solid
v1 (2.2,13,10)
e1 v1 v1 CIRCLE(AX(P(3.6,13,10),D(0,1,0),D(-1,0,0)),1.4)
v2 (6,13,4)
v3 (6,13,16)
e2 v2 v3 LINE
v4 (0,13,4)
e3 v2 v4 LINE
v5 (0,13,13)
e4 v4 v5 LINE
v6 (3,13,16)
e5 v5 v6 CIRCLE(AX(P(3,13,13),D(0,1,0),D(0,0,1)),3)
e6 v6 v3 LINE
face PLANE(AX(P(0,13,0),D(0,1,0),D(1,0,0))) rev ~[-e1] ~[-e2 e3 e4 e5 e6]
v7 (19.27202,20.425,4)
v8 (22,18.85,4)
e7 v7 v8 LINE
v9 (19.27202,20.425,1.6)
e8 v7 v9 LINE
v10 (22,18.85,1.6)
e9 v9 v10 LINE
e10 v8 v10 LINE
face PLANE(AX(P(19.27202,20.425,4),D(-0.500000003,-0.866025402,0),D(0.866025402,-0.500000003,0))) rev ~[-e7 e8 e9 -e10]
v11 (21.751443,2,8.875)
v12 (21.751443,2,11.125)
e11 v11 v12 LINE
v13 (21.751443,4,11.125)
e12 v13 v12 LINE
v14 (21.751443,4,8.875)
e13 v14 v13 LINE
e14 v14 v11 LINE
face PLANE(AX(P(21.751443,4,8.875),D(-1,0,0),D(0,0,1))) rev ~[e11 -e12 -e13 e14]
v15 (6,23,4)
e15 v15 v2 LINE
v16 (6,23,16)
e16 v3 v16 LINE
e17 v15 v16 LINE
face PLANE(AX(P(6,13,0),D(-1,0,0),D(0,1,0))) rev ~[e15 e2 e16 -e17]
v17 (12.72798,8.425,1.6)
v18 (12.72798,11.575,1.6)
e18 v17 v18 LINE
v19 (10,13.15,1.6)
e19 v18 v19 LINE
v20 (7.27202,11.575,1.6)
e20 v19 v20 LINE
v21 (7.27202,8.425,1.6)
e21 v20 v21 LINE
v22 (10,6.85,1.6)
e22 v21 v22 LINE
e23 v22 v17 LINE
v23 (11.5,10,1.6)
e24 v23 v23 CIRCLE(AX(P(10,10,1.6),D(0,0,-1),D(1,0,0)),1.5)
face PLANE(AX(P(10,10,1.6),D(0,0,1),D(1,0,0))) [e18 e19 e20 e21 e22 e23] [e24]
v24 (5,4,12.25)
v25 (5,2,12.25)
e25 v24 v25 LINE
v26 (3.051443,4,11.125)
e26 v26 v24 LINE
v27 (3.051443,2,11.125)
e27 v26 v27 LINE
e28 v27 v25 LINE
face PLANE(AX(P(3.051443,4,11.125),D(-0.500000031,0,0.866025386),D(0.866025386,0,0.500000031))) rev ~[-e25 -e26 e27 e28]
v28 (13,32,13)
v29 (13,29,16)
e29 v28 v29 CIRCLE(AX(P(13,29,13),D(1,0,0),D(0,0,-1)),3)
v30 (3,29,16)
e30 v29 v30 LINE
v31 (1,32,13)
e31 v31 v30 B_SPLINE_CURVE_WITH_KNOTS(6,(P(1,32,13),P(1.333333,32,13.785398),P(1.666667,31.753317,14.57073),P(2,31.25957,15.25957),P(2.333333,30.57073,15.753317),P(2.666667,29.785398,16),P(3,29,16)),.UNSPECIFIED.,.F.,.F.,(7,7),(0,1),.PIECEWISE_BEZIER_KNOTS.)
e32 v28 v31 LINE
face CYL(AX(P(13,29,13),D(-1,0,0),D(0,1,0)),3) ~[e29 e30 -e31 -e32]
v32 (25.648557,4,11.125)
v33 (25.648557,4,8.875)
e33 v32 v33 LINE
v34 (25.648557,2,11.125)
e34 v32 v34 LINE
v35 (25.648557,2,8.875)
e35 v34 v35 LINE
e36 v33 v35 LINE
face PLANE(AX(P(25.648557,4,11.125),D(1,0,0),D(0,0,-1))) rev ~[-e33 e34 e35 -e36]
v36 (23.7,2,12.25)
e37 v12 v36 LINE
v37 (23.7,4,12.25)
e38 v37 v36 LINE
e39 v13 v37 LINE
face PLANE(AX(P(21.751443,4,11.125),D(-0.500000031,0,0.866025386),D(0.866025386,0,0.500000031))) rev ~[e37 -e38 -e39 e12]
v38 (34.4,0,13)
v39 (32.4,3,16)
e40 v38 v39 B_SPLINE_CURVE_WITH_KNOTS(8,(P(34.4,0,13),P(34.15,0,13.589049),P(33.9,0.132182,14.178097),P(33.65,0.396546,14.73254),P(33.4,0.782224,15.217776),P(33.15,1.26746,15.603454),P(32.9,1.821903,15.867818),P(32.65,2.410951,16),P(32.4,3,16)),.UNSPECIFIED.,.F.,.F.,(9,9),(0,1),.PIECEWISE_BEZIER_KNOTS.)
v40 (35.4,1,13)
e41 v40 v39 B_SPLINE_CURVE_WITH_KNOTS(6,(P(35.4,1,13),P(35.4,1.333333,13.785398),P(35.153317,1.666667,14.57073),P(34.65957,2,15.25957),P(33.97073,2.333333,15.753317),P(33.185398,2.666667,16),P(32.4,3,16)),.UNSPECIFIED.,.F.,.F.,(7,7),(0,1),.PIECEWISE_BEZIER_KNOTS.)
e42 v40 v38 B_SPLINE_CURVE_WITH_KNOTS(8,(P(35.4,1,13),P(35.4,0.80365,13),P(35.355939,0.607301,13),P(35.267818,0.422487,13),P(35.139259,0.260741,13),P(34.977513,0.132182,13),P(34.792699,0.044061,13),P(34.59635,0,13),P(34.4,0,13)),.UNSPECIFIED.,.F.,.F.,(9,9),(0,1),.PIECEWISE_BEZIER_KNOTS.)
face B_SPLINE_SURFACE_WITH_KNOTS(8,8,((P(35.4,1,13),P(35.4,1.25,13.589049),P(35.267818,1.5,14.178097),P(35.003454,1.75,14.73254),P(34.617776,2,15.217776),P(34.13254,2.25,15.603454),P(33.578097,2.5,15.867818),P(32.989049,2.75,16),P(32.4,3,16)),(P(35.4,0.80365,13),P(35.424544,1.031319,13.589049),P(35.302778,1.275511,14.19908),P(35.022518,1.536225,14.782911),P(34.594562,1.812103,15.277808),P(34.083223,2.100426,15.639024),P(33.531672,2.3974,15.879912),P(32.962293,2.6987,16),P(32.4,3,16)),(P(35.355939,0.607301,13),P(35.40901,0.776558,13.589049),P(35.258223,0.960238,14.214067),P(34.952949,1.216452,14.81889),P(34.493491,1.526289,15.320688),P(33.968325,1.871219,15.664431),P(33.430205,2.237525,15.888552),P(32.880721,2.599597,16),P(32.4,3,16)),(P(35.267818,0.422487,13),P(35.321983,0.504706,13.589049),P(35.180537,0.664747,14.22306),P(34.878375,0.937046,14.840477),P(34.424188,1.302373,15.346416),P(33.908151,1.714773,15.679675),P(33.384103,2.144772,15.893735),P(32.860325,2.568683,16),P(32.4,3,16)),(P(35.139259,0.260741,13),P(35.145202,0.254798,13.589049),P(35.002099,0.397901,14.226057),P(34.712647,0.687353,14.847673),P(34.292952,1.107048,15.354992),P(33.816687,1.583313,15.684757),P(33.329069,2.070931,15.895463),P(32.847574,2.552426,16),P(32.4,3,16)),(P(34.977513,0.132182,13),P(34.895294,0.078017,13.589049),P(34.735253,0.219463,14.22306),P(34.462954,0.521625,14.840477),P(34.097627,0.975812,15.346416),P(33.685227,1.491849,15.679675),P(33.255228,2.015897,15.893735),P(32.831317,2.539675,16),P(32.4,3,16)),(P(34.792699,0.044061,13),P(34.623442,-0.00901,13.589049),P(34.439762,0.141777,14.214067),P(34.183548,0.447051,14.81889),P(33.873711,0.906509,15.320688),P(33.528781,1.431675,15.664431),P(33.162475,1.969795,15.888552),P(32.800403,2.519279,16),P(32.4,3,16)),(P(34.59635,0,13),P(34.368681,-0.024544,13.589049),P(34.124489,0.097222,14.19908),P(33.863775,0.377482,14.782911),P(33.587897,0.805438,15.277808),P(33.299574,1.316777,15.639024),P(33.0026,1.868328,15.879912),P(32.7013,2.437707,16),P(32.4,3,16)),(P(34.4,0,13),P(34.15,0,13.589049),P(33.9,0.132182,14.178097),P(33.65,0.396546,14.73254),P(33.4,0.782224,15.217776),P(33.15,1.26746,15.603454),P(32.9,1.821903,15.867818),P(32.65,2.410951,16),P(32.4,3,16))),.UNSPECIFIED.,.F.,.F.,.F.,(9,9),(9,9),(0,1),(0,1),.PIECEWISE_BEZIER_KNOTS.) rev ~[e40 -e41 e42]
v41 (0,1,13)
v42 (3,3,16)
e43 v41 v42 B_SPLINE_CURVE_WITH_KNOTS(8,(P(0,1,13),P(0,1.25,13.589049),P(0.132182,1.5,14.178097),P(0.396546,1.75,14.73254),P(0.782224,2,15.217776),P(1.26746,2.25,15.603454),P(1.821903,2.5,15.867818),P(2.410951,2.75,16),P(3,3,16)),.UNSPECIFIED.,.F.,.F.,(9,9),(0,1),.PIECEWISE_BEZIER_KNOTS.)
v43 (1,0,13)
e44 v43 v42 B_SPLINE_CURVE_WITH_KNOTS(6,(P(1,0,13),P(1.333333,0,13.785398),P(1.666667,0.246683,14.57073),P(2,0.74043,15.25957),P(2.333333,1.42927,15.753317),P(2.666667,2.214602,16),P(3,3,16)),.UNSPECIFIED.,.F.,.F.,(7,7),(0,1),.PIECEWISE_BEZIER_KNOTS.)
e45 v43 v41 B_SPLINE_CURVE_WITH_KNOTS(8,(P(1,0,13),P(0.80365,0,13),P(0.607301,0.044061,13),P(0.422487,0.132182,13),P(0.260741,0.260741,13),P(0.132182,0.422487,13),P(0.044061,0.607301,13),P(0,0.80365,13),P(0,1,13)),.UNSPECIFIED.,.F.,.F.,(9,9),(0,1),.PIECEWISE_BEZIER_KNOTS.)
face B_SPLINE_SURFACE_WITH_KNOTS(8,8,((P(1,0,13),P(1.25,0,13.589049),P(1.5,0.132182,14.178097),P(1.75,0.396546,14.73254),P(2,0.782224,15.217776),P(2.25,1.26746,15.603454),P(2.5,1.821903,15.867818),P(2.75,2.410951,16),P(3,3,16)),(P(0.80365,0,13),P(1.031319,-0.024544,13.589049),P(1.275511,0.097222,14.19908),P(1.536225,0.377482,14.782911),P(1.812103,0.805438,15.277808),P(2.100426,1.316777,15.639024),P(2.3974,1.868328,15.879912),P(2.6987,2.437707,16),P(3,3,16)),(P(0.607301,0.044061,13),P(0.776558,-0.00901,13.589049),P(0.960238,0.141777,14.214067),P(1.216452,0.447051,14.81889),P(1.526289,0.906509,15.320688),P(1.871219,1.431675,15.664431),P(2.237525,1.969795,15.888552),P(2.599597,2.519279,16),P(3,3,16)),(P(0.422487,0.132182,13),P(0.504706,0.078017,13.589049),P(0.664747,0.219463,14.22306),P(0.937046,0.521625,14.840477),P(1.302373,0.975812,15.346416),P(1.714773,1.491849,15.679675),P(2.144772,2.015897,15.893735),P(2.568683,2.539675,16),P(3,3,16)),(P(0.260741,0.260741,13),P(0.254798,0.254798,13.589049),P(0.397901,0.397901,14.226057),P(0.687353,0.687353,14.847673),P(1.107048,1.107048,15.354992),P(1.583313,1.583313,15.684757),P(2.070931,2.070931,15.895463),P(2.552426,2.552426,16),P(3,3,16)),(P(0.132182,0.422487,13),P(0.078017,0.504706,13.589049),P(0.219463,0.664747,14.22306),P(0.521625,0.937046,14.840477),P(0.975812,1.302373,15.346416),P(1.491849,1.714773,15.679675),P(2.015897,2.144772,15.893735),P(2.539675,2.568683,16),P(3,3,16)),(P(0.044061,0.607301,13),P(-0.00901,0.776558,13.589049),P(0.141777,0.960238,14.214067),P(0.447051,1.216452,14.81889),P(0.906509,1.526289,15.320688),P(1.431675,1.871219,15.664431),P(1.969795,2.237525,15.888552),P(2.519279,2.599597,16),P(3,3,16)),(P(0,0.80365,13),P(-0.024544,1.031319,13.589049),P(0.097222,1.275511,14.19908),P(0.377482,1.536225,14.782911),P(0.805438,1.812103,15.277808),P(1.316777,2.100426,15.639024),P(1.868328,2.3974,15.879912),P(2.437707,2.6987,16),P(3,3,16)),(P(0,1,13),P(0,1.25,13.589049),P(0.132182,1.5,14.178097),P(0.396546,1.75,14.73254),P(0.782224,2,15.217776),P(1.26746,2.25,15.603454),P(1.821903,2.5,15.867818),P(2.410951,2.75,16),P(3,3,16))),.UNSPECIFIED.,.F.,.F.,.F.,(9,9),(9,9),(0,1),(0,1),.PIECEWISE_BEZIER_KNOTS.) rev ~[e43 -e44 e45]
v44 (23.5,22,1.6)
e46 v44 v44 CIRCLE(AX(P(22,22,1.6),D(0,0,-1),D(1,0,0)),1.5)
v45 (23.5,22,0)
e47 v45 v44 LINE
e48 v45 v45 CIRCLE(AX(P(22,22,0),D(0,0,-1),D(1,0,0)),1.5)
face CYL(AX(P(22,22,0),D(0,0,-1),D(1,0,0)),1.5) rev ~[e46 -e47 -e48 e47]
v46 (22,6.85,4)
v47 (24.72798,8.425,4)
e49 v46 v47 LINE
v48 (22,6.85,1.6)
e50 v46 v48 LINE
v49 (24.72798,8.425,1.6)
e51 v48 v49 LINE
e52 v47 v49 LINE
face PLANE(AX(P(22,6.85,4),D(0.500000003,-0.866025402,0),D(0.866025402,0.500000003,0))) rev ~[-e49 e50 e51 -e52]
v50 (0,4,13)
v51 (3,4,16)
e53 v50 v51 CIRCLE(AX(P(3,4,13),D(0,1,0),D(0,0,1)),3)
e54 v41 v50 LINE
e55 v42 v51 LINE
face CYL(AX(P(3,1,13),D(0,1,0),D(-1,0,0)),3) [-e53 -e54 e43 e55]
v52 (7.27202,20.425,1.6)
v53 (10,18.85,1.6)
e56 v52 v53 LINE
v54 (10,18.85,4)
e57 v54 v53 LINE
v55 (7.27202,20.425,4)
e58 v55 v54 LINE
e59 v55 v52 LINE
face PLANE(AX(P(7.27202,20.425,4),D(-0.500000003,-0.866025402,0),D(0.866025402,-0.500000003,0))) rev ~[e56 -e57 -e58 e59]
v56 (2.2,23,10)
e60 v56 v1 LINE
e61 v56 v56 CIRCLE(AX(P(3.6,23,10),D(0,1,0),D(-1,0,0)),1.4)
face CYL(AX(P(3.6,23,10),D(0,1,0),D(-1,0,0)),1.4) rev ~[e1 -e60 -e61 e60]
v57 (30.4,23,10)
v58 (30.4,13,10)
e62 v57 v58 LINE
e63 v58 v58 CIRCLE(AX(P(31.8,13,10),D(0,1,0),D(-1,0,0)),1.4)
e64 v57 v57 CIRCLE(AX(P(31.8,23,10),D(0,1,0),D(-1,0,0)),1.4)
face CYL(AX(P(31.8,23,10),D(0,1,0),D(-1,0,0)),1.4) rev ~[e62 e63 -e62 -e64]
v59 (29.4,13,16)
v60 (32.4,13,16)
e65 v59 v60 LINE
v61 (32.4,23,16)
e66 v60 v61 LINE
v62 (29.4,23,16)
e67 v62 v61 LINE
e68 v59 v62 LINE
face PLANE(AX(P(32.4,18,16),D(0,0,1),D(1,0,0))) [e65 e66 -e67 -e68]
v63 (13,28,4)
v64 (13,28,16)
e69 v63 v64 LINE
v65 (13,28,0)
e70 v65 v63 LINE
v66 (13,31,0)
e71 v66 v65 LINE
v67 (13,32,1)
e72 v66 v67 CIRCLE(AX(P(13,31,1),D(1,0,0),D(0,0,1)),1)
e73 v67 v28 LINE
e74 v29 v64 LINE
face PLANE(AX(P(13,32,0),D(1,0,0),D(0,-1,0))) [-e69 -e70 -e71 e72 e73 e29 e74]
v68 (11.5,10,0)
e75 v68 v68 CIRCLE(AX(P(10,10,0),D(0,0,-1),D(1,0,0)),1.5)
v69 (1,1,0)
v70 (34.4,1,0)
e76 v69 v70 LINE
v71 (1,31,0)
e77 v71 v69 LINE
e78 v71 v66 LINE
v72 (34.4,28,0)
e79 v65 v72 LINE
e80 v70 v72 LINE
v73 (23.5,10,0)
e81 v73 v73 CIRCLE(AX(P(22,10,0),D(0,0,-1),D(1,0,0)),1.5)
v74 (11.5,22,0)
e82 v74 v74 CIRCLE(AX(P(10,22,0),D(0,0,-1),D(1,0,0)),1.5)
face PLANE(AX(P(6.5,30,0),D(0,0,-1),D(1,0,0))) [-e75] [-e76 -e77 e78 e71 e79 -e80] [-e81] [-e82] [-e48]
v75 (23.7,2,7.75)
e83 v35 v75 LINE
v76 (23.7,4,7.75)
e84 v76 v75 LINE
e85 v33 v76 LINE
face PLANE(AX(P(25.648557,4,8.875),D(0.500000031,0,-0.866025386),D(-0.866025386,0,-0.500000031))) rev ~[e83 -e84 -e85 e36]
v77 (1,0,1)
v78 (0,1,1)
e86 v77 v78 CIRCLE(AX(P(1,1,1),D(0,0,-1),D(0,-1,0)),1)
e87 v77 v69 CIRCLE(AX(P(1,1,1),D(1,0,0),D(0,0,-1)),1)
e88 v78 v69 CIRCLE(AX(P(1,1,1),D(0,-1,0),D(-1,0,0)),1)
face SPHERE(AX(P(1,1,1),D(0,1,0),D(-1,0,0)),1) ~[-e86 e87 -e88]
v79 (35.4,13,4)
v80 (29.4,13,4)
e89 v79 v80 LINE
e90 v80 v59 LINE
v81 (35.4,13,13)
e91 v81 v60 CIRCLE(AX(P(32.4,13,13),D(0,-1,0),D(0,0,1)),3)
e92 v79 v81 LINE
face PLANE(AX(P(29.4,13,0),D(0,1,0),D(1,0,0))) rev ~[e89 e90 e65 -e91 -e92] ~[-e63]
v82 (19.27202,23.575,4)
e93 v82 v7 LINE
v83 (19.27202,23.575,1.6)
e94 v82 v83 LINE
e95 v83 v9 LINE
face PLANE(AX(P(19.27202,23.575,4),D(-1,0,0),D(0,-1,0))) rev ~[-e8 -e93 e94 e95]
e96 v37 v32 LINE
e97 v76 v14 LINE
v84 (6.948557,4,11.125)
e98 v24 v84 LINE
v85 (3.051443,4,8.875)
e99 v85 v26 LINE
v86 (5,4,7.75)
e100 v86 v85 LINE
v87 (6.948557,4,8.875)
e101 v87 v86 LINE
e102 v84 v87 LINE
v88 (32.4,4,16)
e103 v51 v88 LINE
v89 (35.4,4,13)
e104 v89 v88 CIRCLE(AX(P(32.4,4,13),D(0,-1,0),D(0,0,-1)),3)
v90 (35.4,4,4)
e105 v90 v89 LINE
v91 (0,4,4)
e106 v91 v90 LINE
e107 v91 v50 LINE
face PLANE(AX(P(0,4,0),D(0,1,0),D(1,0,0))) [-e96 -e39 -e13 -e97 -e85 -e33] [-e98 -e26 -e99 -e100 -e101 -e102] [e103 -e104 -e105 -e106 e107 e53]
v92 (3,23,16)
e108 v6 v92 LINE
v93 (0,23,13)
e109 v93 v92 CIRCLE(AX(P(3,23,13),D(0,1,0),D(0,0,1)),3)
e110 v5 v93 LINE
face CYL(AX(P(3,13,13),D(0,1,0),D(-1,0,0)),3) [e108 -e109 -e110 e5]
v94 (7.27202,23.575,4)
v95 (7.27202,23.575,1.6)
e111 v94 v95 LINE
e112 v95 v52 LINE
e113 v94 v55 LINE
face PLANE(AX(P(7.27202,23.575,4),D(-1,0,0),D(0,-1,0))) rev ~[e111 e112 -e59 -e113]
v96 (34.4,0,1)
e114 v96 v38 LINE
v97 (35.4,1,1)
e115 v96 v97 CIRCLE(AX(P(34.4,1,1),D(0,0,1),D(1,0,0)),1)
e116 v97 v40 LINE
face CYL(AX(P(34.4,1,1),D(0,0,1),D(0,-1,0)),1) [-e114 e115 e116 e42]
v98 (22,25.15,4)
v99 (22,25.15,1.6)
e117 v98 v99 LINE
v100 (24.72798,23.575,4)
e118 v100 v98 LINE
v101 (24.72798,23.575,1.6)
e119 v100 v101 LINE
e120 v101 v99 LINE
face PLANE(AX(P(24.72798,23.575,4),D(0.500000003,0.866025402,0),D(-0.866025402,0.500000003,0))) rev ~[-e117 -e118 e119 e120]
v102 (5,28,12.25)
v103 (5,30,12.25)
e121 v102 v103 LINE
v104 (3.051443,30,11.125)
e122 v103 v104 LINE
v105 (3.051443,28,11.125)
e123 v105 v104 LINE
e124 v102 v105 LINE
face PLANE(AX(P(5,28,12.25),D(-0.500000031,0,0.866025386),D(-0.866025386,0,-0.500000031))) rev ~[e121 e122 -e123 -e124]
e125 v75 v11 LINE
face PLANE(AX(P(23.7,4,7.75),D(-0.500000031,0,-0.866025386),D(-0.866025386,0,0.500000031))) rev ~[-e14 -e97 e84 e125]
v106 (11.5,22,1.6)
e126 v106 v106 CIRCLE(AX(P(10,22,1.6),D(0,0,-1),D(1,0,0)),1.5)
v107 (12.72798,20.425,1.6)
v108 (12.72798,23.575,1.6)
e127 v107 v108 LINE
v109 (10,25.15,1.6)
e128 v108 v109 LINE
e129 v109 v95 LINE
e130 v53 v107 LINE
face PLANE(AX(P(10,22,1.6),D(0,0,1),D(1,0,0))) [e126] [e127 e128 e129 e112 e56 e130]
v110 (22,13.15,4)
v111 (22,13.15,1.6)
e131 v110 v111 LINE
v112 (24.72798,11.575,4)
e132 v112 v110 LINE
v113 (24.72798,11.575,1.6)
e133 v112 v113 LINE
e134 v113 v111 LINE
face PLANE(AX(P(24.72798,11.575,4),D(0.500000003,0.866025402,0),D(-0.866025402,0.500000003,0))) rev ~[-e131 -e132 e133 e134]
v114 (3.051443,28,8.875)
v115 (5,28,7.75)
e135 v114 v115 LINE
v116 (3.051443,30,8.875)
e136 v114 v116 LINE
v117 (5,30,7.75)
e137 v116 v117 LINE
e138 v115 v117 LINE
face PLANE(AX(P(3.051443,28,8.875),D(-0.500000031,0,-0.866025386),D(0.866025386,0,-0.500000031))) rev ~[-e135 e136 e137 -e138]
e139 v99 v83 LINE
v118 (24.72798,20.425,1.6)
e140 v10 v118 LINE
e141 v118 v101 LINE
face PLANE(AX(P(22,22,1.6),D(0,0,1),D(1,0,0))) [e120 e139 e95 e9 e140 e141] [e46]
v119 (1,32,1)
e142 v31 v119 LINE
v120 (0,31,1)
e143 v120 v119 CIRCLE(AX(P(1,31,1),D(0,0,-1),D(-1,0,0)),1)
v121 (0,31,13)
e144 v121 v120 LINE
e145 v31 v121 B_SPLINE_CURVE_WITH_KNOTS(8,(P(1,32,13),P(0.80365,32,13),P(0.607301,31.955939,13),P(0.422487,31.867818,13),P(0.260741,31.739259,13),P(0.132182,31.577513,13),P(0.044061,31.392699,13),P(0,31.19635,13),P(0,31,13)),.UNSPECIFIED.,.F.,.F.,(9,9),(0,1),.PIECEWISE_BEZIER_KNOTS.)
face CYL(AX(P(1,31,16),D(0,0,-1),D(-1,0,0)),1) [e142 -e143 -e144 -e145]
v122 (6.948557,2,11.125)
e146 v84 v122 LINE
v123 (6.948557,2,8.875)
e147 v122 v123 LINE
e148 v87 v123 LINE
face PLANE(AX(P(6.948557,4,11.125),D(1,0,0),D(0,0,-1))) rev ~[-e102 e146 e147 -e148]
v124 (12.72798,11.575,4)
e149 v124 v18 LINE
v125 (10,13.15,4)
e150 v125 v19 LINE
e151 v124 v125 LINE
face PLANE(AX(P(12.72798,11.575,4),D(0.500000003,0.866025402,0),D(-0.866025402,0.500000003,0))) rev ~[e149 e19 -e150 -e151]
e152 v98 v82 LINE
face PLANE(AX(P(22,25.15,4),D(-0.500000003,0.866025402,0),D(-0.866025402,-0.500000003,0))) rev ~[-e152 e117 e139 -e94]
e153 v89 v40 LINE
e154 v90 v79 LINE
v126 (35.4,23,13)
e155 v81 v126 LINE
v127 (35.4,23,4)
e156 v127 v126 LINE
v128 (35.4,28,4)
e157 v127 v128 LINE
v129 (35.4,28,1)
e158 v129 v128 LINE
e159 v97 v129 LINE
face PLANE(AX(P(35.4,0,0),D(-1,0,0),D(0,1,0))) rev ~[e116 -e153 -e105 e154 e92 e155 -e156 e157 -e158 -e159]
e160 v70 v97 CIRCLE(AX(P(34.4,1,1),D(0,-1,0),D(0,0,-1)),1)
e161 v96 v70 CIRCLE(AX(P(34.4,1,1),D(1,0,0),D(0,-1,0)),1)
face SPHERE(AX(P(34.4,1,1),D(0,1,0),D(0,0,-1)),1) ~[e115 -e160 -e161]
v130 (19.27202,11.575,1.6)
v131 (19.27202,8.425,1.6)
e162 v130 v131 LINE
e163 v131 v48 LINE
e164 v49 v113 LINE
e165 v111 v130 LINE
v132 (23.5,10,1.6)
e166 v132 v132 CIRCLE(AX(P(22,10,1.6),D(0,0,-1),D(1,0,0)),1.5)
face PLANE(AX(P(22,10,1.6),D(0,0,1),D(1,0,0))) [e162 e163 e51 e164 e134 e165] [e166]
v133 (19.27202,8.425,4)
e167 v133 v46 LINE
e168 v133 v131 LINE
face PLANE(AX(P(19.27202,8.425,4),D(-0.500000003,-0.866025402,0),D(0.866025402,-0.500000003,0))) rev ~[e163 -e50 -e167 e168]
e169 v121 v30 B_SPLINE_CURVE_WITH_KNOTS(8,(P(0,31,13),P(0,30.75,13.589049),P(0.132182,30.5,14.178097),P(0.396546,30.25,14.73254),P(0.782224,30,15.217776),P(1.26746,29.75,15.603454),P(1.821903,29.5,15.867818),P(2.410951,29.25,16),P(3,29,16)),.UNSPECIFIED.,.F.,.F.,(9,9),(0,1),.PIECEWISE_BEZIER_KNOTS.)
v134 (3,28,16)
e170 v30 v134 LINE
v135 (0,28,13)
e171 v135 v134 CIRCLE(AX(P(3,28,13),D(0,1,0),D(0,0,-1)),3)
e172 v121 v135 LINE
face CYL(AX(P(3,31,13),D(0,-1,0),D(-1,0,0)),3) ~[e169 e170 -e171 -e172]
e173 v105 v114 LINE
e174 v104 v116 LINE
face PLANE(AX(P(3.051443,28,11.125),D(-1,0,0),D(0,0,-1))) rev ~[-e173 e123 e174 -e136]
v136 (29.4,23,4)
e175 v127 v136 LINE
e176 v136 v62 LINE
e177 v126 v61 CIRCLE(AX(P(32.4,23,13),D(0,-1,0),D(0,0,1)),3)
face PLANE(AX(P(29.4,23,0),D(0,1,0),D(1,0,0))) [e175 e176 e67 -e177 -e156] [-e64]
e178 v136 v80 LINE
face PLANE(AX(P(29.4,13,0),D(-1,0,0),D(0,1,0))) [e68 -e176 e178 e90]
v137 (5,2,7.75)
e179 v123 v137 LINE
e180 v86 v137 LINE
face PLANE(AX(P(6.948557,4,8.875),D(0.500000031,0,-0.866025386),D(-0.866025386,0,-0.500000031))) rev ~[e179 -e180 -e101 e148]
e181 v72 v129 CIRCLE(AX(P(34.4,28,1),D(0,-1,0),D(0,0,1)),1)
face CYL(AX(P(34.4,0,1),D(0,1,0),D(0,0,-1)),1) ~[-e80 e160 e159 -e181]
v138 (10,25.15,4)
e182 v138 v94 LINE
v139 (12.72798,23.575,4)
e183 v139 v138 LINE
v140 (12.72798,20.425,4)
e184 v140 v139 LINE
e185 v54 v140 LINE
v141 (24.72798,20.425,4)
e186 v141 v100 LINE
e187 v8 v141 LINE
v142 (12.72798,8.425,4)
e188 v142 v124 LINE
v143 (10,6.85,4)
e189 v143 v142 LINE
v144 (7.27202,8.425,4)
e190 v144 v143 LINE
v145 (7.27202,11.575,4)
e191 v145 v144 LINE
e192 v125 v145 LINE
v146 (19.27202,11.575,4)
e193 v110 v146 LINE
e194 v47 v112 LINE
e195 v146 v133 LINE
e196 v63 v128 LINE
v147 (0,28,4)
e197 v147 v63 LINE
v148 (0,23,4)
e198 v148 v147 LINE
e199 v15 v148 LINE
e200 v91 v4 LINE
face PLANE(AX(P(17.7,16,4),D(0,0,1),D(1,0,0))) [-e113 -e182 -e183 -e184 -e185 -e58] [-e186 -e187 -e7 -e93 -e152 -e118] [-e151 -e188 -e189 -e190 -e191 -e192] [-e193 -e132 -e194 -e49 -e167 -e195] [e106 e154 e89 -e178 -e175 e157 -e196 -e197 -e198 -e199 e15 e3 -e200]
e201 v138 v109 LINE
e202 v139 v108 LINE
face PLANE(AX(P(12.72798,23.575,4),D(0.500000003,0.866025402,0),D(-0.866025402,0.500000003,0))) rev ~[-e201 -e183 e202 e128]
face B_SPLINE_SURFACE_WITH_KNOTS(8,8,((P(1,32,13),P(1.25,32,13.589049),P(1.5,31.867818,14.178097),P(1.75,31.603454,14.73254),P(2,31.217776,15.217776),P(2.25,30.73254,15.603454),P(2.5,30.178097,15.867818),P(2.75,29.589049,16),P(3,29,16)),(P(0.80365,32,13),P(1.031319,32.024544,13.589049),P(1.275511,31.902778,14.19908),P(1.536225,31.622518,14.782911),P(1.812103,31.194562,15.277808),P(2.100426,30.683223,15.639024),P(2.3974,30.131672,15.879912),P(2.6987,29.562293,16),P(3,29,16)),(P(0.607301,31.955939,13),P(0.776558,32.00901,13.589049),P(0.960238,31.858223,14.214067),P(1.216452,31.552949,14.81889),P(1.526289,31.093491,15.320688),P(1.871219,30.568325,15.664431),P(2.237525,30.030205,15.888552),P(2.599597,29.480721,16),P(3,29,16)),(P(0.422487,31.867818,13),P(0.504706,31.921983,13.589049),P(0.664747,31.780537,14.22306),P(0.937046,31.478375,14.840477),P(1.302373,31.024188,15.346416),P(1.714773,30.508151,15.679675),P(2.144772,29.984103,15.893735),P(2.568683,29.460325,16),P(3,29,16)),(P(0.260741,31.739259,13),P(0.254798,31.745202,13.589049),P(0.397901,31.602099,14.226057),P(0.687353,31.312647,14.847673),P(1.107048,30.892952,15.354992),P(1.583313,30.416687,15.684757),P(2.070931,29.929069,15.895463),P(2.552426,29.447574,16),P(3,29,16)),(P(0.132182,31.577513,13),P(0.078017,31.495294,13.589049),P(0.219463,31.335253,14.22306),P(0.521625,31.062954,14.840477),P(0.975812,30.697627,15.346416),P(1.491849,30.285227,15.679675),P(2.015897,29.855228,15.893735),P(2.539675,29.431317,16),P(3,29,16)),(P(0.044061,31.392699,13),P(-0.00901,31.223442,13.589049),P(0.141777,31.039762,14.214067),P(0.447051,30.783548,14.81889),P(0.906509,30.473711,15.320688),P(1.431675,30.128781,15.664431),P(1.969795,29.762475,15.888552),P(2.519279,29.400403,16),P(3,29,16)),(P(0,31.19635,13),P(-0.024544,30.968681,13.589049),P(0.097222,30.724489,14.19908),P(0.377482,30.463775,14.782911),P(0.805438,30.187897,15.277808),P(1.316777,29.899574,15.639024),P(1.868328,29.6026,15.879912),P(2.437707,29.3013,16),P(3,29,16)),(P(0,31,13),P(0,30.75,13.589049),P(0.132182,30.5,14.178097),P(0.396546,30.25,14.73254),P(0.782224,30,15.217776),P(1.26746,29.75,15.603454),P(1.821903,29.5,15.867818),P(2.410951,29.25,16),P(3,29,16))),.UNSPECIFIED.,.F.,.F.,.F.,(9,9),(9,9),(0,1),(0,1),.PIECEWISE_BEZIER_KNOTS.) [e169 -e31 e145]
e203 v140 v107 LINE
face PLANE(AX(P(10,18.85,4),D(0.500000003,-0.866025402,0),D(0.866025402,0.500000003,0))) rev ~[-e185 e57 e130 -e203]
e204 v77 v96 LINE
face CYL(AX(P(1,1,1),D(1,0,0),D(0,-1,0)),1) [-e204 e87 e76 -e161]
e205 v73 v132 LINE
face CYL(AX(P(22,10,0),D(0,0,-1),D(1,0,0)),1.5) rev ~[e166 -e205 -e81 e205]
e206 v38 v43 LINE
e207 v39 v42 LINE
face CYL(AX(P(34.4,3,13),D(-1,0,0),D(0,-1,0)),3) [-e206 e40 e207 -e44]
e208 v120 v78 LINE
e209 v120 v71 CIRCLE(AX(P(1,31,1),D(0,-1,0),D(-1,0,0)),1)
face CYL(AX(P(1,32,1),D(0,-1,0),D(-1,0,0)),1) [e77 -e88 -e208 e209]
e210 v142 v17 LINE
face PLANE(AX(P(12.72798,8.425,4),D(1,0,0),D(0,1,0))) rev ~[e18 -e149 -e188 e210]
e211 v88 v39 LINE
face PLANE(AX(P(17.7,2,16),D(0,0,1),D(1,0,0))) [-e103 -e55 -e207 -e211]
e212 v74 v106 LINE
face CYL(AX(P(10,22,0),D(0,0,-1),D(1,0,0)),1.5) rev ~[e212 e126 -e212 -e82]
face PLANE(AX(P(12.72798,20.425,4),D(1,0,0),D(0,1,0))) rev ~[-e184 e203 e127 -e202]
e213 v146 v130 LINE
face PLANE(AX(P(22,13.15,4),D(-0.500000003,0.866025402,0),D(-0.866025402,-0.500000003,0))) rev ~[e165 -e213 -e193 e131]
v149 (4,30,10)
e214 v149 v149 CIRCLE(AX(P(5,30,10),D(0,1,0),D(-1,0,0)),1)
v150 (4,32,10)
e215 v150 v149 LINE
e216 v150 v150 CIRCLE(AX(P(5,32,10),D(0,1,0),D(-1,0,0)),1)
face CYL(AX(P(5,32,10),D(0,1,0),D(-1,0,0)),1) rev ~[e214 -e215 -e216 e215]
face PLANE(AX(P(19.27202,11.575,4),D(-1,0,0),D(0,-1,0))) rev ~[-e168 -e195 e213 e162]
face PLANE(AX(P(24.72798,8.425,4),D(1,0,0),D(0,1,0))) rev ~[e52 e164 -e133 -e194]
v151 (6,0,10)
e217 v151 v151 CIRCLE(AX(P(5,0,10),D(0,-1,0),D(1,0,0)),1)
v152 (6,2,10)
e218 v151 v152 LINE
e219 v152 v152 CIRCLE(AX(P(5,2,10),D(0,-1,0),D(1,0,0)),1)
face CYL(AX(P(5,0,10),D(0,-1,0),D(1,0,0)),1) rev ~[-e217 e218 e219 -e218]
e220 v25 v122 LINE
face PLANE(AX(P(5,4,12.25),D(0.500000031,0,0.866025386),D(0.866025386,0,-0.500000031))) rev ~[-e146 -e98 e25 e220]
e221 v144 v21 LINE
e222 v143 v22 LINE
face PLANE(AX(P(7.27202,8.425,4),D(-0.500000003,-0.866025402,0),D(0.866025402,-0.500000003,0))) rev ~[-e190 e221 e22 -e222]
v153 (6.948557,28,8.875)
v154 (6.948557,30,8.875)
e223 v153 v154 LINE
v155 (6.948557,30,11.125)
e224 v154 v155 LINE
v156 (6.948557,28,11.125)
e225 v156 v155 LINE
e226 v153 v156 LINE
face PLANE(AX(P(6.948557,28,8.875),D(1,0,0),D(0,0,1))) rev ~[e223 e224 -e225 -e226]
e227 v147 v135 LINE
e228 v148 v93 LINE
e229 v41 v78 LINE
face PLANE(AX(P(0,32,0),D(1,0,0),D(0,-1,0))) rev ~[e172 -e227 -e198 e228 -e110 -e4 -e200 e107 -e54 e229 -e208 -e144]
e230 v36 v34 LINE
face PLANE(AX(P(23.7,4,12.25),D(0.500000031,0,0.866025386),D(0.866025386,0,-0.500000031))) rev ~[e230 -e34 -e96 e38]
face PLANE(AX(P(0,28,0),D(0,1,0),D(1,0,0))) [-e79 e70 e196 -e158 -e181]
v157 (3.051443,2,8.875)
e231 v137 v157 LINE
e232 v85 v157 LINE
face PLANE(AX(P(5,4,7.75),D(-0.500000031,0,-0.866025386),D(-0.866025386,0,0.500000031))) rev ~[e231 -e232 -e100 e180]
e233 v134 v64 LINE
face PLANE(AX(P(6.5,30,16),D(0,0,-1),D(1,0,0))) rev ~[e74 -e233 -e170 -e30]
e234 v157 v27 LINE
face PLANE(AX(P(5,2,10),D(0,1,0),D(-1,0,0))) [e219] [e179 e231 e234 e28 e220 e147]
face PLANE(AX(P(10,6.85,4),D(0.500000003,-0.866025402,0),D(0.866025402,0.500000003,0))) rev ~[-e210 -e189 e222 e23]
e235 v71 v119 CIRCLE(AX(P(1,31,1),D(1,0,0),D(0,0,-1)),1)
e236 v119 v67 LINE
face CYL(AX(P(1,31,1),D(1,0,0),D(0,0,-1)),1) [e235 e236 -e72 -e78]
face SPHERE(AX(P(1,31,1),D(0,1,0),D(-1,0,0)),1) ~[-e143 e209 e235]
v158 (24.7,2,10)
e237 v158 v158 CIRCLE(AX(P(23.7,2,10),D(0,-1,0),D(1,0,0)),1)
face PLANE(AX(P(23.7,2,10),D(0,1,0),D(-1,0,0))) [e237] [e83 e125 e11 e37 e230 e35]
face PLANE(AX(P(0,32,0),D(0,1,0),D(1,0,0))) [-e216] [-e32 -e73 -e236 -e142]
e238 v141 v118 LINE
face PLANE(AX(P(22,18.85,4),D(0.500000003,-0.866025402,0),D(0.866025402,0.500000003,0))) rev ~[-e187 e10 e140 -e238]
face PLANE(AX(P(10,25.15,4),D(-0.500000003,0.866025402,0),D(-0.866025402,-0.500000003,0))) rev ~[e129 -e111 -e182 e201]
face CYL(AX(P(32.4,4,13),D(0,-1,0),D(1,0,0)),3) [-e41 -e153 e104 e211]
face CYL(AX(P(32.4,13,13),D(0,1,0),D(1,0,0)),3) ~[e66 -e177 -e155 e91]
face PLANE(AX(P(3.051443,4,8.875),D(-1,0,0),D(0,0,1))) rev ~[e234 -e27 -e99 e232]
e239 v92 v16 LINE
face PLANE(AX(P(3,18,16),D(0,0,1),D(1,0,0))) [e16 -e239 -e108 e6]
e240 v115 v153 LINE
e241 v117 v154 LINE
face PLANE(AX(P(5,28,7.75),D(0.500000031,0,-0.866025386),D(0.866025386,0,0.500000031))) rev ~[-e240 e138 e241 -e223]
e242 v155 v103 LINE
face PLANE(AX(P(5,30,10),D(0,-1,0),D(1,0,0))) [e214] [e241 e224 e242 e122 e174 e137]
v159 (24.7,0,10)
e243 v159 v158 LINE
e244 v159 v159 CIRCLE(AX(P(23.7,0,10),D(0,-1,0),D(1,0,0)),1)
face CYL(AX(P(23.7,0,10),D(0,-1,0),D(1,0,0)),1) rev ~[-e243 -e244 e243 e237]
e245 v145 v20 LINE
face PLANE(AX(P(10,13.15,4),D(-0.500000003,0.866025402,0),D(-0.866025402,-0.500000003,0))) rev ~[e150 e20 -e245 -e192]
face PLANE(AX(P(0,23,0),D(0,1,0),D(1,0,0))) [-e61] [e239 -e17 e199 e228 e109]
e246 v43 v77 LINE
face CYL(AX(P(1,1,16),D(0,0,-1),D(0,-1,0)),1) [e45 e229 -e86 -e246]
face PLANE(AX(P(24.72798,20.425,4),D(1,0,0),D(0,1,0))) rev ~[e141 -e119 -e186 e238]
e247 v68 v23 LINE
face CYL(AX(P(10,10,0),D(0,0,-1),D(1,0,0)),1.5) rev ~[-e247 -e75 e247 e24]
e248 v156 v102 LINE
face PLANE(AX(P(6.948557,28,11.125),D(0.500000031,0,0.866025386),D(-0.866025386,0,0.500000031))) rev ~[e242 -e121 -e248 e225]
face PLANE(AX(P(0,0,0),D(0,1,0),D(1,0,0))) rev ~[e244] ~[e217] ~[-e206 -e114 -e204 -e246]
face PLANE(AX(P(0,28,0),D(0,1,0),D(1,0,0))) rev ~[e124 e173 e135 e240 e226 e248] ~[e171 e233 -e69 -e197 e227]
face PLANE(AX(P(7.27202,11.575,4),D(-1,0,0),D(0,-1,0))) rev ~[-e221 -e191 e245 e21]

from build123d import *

# Parameters (mm, degrees)
SKETCH_W        = 35.4
SKETCH_H        = 24
PAD_DEPTH       = 4
SKETCH001_W     = 35.4
SKETCH001_H     = 4
PAD001_DEPTH    = 16
SKETCH003_W     = 6
SKETCH003_H     = 10
PAD003_DEPTH    = 16
SKETCH004_R     = 1.4
POCKET_DEPTH    = 10
SKETCH005_W     = 6
SKETCH005_H     = 10
PAD004_DEPTH    = 16
SKETCH006_R     = 1.4
POCKET001_DEPTH = 10
SKETCH007_W     = 13
SKETCH007_H     = 4
PAD005_DEPTH    = 16
POCKET002_DEPTH = 2.4
SKETCH009_R     = 1.5
POCKET003_DEPTH = 5
POCKET004_DEPTH = 2
SKETCH011_R     = 1
POCKET005_DEPTH = 5
POCKET006_DEPTH = 2
SKETCH013_R     = 1
POCKET007_DEPTH = 5
FILLET_R        = 1
FILLET001_R     = 1
FILLET002_R     = 1
FILLET003_R     = 1
FILLET004_R     = 3
FILLET005_R     = 3
FILLET006_R     = 3
FILLET007_R     = 3


with BuildPart() as part:
    # Sketch → Pad (new body)
    with BuildSketch(Plane.XY):
        with Locations((17.7, 16)):
            Rectangle(SKETCH_W, SKETCH_H)
    extrude(amount=PAD_DEPTH)

    # Sketch001 → Pad001 (join)
    with BuildSketch(Plane.XY):
        with Locations((17.7, 2)):
            Rectangle(SKETCH001_W, SKETCH001_H)
    extrude(amount=PAD001_DEPTH)

    # Sketch003 → Pad003 (join)
    with BuildSketch(Plane.XY):
        with Locations((3, 18)):
            Rectangle(SKETCH003_W, SKETCH003_H)
    extrude(amount=PAD003_DEPTH)

    # Sketch004 (on Face14 of Pad003) → Pocket (cut)
    with BuildSketch(Plane(origin=(0, 23, 0), x_dir=(-1, 0, 0), z_dir=(0, 1, 0))):
        with Locations((-3.6, 10)):
            Circle(SKETCH004_R)
    extrude(amount=-POCKET_DEPTH, mode=Mode.SUBTRACT)

    # Sketch005 → Pad004 (join)
    with BuildSketch(Plane.XY):
        with Locations((32.4, 18)):
            Rectangle(SKETCH005_W, SKETCH005_H)
    extrude(amount=PAD004_DEPTH)

    # Sketch006 (on Face13 of Pad004) → Pocket001 (cut)
    with BuildSketch(Plane(origin=(0, 23, 0), x_dir=(-1, 0, 0), z_dir=(0, 1, 0))):
        with Locations((-31.8, 10)):
            Circle(SKETCH006_R)
    extrude(amount=-POCKET001_DEPTH, mode=Mode.SUBTRACT)

    # Sketch007 (on Face4 of Pocket001) → Pad005 (join)
    with BuildSketch(Plane(origin=(0, 0, 0), x_dir=(1, 0, 0), z_dir=(0, 0, -1))):
        with Locations((6.5, -30)):
            Rectangle(SKETCH007_W, SKETCH007_H)
    extrude(amount=-PAD005_DEPTH)

    # Sketch008 (on Face4 of Pad005) → Pocket002 (cut)
    with BuildSketch(Plane.XY.offset(4)):
        Polygon((12.72798, 20.425), (12.72798, 23.575), (10, 25.15), (7.27202, 23.575), (7.27202, 20.425), (10, 18.85), align=None)
        Polygon((24.72798, 20.425), (24.72798, 23.575), (22, 25.15), (19.27202, 23.575), (19.27202, 20.425), (22, 18.85), align=None)
        Polygon((12.72798, 11.575), (10, 13.15), (7.27202, 11.575), (7.27202, 8.425), (10, 6.85), (12.72798, 8.425), align=None)
        Polygon((24.72798, 8.425), (24.72798, 11.575), (22, 13.15), (19.27202, 11.575), (19.27202, 8.425), (22, 6.85), align=None)
    extrude(amount=-POCKET002_DEPTH, mode=Mode.SUBTRACT)

    # Sketch009 (on Face2 of Pocket002) → Pocket003 (cut)
    with BuildSketch(Plane(origin=(0, 0, 0), x_dir=(1, 0, 0), z_dir=(0, 0, -1))):
        with Locations((10, -10)):
            Circle(SKETCH009_R)
        with Locations((22, -10)):
            Circle(SKETCH009_R)
        with Locations((22, -22)):
            Circle(SKETCH009_R)
        with Locations((10, -22)):
            Circle(SKETCH009_R)
    extrude(amount=-POCKET003_DEPTH, mode=Mode.SUBTRACT)

    # Sketch010 (on Face25 of Pocket003) → Pocket004 (cut)
    with BuildSketch(Plane(origin=(0, 4, 0), x_dir=(-1, 0, 0), z_dir=(0, 1, 0))):
        Polygon((-3.051443, 8.875), (-3.051443, 11.125), (-5, 12.25), (-6.948557, 11.125), (-6.948557, 8.875), (-5, 7.75), align=None)
        Polygon((-21.751443, 8.875), (-21.751443, 11.125), (-23.7, 12.25), (-25.648557, 11.125), (-25.648557, 8.875), (-23.7, 7.75), align=None)
    extrude(amount=-POCKET004_DEPTH, mode=Mode.SUBTRACT)

    # Sketch011 (on Face55 of Pocket004) → Pocket005 (cut)
    with BuildSketch(Plane.XZ):
        with Locations((5, 10)):
            Circle(SKETCH011_R)
        with Locations((23.7, 10)):
            Circle(SKETCH011_R)
    extrude(amount=-POCKET005_DEPTH, mode=Mode.SUBTRACT)

    # Sketch012 (on Face18 of Pocket005) → Pocket006 (cut)
    with BuildSketch(Plane.XZ.offset(-28)):
        Polygon((6.948557, 11.125), (5, 12.25), (3.051443, 11.125), (3.051443, 8.875), (5, 7.75), (6.948557, 8.875), align=None)
    extrude(amount=-POCKET006_DEPTH, mode=Mode.SUBTRACT)

    # Sketch013 (on Face50 of Pocket006) → Pocket007 (cut)
    with BuildSketch(Plane(origin=(0, 32, 0), x_dir=(-1, 0, 0), z_dir=(0, 1, 0))):
        with Locations((-5, 10)):
            Circle(SKETCH013_R)
    extrude(amount=-POCKET007_DEPTH, mode=Mode.SUBTRACT)

    # Fillet
    fillet_edges = [part.edges().sort_by_distance(p)[0] for p in [
        (0, 18, 0),
    ]]
    fillet(fillet_edges, radius=FILLET_R)

    # Fillet001
    fillet001_edges = [part.edges().sort_by_distance(p)[0] for p in [
        (35.4, 18, 0),
    ]]
    fillet(fillet001_edges, radius=FILLET001_R)

    # Fillet002
    fillet002_edges = [part.edges().sort_by_distance(p)[0] for p in [
        (17.7, 0, 0),
    ]]
    fillet(fillet002_edges, radius=FILLET002_R)

    # Fillet003
    fillet003_edges = [part.edges().sort_by_distance(p)[0] for p in [
        (7, 32, 0),
    ]]
    fillet(fillet003_edges, radius=FILLET003_R)

    # Fillet004
    fillet004_edges = [part.edges().sort_by_distance(p)[0] for p in [
        (0, 18, 16),
    ]]
    fillet(fillet004_edges, radius=FILLET004_R)

    # Fillet005
    fillet005_edges = [part.edges().sort_by_distance(p)[0] for p in [
        (0, 29.5, 16),
    ]]
    fillet(fillet005_edges, radius=FILLET005_R)

    # Fillet006
    fillet006_edges = [part.edges().sort_by_distance(p)[0] for p in [
        (0, 2.5, 16),
    ]]
    fillet(fillet006_edges, radius=FILLET006_R)

    # Fillet007
    fillet007_edges = [part.edges().sort_by_distance(p)[0] for p in [
        (35.4, 18, 16),
    ]]
    fillet(fillet007_edges, radius=FILLET007_R)


solid = part.part
